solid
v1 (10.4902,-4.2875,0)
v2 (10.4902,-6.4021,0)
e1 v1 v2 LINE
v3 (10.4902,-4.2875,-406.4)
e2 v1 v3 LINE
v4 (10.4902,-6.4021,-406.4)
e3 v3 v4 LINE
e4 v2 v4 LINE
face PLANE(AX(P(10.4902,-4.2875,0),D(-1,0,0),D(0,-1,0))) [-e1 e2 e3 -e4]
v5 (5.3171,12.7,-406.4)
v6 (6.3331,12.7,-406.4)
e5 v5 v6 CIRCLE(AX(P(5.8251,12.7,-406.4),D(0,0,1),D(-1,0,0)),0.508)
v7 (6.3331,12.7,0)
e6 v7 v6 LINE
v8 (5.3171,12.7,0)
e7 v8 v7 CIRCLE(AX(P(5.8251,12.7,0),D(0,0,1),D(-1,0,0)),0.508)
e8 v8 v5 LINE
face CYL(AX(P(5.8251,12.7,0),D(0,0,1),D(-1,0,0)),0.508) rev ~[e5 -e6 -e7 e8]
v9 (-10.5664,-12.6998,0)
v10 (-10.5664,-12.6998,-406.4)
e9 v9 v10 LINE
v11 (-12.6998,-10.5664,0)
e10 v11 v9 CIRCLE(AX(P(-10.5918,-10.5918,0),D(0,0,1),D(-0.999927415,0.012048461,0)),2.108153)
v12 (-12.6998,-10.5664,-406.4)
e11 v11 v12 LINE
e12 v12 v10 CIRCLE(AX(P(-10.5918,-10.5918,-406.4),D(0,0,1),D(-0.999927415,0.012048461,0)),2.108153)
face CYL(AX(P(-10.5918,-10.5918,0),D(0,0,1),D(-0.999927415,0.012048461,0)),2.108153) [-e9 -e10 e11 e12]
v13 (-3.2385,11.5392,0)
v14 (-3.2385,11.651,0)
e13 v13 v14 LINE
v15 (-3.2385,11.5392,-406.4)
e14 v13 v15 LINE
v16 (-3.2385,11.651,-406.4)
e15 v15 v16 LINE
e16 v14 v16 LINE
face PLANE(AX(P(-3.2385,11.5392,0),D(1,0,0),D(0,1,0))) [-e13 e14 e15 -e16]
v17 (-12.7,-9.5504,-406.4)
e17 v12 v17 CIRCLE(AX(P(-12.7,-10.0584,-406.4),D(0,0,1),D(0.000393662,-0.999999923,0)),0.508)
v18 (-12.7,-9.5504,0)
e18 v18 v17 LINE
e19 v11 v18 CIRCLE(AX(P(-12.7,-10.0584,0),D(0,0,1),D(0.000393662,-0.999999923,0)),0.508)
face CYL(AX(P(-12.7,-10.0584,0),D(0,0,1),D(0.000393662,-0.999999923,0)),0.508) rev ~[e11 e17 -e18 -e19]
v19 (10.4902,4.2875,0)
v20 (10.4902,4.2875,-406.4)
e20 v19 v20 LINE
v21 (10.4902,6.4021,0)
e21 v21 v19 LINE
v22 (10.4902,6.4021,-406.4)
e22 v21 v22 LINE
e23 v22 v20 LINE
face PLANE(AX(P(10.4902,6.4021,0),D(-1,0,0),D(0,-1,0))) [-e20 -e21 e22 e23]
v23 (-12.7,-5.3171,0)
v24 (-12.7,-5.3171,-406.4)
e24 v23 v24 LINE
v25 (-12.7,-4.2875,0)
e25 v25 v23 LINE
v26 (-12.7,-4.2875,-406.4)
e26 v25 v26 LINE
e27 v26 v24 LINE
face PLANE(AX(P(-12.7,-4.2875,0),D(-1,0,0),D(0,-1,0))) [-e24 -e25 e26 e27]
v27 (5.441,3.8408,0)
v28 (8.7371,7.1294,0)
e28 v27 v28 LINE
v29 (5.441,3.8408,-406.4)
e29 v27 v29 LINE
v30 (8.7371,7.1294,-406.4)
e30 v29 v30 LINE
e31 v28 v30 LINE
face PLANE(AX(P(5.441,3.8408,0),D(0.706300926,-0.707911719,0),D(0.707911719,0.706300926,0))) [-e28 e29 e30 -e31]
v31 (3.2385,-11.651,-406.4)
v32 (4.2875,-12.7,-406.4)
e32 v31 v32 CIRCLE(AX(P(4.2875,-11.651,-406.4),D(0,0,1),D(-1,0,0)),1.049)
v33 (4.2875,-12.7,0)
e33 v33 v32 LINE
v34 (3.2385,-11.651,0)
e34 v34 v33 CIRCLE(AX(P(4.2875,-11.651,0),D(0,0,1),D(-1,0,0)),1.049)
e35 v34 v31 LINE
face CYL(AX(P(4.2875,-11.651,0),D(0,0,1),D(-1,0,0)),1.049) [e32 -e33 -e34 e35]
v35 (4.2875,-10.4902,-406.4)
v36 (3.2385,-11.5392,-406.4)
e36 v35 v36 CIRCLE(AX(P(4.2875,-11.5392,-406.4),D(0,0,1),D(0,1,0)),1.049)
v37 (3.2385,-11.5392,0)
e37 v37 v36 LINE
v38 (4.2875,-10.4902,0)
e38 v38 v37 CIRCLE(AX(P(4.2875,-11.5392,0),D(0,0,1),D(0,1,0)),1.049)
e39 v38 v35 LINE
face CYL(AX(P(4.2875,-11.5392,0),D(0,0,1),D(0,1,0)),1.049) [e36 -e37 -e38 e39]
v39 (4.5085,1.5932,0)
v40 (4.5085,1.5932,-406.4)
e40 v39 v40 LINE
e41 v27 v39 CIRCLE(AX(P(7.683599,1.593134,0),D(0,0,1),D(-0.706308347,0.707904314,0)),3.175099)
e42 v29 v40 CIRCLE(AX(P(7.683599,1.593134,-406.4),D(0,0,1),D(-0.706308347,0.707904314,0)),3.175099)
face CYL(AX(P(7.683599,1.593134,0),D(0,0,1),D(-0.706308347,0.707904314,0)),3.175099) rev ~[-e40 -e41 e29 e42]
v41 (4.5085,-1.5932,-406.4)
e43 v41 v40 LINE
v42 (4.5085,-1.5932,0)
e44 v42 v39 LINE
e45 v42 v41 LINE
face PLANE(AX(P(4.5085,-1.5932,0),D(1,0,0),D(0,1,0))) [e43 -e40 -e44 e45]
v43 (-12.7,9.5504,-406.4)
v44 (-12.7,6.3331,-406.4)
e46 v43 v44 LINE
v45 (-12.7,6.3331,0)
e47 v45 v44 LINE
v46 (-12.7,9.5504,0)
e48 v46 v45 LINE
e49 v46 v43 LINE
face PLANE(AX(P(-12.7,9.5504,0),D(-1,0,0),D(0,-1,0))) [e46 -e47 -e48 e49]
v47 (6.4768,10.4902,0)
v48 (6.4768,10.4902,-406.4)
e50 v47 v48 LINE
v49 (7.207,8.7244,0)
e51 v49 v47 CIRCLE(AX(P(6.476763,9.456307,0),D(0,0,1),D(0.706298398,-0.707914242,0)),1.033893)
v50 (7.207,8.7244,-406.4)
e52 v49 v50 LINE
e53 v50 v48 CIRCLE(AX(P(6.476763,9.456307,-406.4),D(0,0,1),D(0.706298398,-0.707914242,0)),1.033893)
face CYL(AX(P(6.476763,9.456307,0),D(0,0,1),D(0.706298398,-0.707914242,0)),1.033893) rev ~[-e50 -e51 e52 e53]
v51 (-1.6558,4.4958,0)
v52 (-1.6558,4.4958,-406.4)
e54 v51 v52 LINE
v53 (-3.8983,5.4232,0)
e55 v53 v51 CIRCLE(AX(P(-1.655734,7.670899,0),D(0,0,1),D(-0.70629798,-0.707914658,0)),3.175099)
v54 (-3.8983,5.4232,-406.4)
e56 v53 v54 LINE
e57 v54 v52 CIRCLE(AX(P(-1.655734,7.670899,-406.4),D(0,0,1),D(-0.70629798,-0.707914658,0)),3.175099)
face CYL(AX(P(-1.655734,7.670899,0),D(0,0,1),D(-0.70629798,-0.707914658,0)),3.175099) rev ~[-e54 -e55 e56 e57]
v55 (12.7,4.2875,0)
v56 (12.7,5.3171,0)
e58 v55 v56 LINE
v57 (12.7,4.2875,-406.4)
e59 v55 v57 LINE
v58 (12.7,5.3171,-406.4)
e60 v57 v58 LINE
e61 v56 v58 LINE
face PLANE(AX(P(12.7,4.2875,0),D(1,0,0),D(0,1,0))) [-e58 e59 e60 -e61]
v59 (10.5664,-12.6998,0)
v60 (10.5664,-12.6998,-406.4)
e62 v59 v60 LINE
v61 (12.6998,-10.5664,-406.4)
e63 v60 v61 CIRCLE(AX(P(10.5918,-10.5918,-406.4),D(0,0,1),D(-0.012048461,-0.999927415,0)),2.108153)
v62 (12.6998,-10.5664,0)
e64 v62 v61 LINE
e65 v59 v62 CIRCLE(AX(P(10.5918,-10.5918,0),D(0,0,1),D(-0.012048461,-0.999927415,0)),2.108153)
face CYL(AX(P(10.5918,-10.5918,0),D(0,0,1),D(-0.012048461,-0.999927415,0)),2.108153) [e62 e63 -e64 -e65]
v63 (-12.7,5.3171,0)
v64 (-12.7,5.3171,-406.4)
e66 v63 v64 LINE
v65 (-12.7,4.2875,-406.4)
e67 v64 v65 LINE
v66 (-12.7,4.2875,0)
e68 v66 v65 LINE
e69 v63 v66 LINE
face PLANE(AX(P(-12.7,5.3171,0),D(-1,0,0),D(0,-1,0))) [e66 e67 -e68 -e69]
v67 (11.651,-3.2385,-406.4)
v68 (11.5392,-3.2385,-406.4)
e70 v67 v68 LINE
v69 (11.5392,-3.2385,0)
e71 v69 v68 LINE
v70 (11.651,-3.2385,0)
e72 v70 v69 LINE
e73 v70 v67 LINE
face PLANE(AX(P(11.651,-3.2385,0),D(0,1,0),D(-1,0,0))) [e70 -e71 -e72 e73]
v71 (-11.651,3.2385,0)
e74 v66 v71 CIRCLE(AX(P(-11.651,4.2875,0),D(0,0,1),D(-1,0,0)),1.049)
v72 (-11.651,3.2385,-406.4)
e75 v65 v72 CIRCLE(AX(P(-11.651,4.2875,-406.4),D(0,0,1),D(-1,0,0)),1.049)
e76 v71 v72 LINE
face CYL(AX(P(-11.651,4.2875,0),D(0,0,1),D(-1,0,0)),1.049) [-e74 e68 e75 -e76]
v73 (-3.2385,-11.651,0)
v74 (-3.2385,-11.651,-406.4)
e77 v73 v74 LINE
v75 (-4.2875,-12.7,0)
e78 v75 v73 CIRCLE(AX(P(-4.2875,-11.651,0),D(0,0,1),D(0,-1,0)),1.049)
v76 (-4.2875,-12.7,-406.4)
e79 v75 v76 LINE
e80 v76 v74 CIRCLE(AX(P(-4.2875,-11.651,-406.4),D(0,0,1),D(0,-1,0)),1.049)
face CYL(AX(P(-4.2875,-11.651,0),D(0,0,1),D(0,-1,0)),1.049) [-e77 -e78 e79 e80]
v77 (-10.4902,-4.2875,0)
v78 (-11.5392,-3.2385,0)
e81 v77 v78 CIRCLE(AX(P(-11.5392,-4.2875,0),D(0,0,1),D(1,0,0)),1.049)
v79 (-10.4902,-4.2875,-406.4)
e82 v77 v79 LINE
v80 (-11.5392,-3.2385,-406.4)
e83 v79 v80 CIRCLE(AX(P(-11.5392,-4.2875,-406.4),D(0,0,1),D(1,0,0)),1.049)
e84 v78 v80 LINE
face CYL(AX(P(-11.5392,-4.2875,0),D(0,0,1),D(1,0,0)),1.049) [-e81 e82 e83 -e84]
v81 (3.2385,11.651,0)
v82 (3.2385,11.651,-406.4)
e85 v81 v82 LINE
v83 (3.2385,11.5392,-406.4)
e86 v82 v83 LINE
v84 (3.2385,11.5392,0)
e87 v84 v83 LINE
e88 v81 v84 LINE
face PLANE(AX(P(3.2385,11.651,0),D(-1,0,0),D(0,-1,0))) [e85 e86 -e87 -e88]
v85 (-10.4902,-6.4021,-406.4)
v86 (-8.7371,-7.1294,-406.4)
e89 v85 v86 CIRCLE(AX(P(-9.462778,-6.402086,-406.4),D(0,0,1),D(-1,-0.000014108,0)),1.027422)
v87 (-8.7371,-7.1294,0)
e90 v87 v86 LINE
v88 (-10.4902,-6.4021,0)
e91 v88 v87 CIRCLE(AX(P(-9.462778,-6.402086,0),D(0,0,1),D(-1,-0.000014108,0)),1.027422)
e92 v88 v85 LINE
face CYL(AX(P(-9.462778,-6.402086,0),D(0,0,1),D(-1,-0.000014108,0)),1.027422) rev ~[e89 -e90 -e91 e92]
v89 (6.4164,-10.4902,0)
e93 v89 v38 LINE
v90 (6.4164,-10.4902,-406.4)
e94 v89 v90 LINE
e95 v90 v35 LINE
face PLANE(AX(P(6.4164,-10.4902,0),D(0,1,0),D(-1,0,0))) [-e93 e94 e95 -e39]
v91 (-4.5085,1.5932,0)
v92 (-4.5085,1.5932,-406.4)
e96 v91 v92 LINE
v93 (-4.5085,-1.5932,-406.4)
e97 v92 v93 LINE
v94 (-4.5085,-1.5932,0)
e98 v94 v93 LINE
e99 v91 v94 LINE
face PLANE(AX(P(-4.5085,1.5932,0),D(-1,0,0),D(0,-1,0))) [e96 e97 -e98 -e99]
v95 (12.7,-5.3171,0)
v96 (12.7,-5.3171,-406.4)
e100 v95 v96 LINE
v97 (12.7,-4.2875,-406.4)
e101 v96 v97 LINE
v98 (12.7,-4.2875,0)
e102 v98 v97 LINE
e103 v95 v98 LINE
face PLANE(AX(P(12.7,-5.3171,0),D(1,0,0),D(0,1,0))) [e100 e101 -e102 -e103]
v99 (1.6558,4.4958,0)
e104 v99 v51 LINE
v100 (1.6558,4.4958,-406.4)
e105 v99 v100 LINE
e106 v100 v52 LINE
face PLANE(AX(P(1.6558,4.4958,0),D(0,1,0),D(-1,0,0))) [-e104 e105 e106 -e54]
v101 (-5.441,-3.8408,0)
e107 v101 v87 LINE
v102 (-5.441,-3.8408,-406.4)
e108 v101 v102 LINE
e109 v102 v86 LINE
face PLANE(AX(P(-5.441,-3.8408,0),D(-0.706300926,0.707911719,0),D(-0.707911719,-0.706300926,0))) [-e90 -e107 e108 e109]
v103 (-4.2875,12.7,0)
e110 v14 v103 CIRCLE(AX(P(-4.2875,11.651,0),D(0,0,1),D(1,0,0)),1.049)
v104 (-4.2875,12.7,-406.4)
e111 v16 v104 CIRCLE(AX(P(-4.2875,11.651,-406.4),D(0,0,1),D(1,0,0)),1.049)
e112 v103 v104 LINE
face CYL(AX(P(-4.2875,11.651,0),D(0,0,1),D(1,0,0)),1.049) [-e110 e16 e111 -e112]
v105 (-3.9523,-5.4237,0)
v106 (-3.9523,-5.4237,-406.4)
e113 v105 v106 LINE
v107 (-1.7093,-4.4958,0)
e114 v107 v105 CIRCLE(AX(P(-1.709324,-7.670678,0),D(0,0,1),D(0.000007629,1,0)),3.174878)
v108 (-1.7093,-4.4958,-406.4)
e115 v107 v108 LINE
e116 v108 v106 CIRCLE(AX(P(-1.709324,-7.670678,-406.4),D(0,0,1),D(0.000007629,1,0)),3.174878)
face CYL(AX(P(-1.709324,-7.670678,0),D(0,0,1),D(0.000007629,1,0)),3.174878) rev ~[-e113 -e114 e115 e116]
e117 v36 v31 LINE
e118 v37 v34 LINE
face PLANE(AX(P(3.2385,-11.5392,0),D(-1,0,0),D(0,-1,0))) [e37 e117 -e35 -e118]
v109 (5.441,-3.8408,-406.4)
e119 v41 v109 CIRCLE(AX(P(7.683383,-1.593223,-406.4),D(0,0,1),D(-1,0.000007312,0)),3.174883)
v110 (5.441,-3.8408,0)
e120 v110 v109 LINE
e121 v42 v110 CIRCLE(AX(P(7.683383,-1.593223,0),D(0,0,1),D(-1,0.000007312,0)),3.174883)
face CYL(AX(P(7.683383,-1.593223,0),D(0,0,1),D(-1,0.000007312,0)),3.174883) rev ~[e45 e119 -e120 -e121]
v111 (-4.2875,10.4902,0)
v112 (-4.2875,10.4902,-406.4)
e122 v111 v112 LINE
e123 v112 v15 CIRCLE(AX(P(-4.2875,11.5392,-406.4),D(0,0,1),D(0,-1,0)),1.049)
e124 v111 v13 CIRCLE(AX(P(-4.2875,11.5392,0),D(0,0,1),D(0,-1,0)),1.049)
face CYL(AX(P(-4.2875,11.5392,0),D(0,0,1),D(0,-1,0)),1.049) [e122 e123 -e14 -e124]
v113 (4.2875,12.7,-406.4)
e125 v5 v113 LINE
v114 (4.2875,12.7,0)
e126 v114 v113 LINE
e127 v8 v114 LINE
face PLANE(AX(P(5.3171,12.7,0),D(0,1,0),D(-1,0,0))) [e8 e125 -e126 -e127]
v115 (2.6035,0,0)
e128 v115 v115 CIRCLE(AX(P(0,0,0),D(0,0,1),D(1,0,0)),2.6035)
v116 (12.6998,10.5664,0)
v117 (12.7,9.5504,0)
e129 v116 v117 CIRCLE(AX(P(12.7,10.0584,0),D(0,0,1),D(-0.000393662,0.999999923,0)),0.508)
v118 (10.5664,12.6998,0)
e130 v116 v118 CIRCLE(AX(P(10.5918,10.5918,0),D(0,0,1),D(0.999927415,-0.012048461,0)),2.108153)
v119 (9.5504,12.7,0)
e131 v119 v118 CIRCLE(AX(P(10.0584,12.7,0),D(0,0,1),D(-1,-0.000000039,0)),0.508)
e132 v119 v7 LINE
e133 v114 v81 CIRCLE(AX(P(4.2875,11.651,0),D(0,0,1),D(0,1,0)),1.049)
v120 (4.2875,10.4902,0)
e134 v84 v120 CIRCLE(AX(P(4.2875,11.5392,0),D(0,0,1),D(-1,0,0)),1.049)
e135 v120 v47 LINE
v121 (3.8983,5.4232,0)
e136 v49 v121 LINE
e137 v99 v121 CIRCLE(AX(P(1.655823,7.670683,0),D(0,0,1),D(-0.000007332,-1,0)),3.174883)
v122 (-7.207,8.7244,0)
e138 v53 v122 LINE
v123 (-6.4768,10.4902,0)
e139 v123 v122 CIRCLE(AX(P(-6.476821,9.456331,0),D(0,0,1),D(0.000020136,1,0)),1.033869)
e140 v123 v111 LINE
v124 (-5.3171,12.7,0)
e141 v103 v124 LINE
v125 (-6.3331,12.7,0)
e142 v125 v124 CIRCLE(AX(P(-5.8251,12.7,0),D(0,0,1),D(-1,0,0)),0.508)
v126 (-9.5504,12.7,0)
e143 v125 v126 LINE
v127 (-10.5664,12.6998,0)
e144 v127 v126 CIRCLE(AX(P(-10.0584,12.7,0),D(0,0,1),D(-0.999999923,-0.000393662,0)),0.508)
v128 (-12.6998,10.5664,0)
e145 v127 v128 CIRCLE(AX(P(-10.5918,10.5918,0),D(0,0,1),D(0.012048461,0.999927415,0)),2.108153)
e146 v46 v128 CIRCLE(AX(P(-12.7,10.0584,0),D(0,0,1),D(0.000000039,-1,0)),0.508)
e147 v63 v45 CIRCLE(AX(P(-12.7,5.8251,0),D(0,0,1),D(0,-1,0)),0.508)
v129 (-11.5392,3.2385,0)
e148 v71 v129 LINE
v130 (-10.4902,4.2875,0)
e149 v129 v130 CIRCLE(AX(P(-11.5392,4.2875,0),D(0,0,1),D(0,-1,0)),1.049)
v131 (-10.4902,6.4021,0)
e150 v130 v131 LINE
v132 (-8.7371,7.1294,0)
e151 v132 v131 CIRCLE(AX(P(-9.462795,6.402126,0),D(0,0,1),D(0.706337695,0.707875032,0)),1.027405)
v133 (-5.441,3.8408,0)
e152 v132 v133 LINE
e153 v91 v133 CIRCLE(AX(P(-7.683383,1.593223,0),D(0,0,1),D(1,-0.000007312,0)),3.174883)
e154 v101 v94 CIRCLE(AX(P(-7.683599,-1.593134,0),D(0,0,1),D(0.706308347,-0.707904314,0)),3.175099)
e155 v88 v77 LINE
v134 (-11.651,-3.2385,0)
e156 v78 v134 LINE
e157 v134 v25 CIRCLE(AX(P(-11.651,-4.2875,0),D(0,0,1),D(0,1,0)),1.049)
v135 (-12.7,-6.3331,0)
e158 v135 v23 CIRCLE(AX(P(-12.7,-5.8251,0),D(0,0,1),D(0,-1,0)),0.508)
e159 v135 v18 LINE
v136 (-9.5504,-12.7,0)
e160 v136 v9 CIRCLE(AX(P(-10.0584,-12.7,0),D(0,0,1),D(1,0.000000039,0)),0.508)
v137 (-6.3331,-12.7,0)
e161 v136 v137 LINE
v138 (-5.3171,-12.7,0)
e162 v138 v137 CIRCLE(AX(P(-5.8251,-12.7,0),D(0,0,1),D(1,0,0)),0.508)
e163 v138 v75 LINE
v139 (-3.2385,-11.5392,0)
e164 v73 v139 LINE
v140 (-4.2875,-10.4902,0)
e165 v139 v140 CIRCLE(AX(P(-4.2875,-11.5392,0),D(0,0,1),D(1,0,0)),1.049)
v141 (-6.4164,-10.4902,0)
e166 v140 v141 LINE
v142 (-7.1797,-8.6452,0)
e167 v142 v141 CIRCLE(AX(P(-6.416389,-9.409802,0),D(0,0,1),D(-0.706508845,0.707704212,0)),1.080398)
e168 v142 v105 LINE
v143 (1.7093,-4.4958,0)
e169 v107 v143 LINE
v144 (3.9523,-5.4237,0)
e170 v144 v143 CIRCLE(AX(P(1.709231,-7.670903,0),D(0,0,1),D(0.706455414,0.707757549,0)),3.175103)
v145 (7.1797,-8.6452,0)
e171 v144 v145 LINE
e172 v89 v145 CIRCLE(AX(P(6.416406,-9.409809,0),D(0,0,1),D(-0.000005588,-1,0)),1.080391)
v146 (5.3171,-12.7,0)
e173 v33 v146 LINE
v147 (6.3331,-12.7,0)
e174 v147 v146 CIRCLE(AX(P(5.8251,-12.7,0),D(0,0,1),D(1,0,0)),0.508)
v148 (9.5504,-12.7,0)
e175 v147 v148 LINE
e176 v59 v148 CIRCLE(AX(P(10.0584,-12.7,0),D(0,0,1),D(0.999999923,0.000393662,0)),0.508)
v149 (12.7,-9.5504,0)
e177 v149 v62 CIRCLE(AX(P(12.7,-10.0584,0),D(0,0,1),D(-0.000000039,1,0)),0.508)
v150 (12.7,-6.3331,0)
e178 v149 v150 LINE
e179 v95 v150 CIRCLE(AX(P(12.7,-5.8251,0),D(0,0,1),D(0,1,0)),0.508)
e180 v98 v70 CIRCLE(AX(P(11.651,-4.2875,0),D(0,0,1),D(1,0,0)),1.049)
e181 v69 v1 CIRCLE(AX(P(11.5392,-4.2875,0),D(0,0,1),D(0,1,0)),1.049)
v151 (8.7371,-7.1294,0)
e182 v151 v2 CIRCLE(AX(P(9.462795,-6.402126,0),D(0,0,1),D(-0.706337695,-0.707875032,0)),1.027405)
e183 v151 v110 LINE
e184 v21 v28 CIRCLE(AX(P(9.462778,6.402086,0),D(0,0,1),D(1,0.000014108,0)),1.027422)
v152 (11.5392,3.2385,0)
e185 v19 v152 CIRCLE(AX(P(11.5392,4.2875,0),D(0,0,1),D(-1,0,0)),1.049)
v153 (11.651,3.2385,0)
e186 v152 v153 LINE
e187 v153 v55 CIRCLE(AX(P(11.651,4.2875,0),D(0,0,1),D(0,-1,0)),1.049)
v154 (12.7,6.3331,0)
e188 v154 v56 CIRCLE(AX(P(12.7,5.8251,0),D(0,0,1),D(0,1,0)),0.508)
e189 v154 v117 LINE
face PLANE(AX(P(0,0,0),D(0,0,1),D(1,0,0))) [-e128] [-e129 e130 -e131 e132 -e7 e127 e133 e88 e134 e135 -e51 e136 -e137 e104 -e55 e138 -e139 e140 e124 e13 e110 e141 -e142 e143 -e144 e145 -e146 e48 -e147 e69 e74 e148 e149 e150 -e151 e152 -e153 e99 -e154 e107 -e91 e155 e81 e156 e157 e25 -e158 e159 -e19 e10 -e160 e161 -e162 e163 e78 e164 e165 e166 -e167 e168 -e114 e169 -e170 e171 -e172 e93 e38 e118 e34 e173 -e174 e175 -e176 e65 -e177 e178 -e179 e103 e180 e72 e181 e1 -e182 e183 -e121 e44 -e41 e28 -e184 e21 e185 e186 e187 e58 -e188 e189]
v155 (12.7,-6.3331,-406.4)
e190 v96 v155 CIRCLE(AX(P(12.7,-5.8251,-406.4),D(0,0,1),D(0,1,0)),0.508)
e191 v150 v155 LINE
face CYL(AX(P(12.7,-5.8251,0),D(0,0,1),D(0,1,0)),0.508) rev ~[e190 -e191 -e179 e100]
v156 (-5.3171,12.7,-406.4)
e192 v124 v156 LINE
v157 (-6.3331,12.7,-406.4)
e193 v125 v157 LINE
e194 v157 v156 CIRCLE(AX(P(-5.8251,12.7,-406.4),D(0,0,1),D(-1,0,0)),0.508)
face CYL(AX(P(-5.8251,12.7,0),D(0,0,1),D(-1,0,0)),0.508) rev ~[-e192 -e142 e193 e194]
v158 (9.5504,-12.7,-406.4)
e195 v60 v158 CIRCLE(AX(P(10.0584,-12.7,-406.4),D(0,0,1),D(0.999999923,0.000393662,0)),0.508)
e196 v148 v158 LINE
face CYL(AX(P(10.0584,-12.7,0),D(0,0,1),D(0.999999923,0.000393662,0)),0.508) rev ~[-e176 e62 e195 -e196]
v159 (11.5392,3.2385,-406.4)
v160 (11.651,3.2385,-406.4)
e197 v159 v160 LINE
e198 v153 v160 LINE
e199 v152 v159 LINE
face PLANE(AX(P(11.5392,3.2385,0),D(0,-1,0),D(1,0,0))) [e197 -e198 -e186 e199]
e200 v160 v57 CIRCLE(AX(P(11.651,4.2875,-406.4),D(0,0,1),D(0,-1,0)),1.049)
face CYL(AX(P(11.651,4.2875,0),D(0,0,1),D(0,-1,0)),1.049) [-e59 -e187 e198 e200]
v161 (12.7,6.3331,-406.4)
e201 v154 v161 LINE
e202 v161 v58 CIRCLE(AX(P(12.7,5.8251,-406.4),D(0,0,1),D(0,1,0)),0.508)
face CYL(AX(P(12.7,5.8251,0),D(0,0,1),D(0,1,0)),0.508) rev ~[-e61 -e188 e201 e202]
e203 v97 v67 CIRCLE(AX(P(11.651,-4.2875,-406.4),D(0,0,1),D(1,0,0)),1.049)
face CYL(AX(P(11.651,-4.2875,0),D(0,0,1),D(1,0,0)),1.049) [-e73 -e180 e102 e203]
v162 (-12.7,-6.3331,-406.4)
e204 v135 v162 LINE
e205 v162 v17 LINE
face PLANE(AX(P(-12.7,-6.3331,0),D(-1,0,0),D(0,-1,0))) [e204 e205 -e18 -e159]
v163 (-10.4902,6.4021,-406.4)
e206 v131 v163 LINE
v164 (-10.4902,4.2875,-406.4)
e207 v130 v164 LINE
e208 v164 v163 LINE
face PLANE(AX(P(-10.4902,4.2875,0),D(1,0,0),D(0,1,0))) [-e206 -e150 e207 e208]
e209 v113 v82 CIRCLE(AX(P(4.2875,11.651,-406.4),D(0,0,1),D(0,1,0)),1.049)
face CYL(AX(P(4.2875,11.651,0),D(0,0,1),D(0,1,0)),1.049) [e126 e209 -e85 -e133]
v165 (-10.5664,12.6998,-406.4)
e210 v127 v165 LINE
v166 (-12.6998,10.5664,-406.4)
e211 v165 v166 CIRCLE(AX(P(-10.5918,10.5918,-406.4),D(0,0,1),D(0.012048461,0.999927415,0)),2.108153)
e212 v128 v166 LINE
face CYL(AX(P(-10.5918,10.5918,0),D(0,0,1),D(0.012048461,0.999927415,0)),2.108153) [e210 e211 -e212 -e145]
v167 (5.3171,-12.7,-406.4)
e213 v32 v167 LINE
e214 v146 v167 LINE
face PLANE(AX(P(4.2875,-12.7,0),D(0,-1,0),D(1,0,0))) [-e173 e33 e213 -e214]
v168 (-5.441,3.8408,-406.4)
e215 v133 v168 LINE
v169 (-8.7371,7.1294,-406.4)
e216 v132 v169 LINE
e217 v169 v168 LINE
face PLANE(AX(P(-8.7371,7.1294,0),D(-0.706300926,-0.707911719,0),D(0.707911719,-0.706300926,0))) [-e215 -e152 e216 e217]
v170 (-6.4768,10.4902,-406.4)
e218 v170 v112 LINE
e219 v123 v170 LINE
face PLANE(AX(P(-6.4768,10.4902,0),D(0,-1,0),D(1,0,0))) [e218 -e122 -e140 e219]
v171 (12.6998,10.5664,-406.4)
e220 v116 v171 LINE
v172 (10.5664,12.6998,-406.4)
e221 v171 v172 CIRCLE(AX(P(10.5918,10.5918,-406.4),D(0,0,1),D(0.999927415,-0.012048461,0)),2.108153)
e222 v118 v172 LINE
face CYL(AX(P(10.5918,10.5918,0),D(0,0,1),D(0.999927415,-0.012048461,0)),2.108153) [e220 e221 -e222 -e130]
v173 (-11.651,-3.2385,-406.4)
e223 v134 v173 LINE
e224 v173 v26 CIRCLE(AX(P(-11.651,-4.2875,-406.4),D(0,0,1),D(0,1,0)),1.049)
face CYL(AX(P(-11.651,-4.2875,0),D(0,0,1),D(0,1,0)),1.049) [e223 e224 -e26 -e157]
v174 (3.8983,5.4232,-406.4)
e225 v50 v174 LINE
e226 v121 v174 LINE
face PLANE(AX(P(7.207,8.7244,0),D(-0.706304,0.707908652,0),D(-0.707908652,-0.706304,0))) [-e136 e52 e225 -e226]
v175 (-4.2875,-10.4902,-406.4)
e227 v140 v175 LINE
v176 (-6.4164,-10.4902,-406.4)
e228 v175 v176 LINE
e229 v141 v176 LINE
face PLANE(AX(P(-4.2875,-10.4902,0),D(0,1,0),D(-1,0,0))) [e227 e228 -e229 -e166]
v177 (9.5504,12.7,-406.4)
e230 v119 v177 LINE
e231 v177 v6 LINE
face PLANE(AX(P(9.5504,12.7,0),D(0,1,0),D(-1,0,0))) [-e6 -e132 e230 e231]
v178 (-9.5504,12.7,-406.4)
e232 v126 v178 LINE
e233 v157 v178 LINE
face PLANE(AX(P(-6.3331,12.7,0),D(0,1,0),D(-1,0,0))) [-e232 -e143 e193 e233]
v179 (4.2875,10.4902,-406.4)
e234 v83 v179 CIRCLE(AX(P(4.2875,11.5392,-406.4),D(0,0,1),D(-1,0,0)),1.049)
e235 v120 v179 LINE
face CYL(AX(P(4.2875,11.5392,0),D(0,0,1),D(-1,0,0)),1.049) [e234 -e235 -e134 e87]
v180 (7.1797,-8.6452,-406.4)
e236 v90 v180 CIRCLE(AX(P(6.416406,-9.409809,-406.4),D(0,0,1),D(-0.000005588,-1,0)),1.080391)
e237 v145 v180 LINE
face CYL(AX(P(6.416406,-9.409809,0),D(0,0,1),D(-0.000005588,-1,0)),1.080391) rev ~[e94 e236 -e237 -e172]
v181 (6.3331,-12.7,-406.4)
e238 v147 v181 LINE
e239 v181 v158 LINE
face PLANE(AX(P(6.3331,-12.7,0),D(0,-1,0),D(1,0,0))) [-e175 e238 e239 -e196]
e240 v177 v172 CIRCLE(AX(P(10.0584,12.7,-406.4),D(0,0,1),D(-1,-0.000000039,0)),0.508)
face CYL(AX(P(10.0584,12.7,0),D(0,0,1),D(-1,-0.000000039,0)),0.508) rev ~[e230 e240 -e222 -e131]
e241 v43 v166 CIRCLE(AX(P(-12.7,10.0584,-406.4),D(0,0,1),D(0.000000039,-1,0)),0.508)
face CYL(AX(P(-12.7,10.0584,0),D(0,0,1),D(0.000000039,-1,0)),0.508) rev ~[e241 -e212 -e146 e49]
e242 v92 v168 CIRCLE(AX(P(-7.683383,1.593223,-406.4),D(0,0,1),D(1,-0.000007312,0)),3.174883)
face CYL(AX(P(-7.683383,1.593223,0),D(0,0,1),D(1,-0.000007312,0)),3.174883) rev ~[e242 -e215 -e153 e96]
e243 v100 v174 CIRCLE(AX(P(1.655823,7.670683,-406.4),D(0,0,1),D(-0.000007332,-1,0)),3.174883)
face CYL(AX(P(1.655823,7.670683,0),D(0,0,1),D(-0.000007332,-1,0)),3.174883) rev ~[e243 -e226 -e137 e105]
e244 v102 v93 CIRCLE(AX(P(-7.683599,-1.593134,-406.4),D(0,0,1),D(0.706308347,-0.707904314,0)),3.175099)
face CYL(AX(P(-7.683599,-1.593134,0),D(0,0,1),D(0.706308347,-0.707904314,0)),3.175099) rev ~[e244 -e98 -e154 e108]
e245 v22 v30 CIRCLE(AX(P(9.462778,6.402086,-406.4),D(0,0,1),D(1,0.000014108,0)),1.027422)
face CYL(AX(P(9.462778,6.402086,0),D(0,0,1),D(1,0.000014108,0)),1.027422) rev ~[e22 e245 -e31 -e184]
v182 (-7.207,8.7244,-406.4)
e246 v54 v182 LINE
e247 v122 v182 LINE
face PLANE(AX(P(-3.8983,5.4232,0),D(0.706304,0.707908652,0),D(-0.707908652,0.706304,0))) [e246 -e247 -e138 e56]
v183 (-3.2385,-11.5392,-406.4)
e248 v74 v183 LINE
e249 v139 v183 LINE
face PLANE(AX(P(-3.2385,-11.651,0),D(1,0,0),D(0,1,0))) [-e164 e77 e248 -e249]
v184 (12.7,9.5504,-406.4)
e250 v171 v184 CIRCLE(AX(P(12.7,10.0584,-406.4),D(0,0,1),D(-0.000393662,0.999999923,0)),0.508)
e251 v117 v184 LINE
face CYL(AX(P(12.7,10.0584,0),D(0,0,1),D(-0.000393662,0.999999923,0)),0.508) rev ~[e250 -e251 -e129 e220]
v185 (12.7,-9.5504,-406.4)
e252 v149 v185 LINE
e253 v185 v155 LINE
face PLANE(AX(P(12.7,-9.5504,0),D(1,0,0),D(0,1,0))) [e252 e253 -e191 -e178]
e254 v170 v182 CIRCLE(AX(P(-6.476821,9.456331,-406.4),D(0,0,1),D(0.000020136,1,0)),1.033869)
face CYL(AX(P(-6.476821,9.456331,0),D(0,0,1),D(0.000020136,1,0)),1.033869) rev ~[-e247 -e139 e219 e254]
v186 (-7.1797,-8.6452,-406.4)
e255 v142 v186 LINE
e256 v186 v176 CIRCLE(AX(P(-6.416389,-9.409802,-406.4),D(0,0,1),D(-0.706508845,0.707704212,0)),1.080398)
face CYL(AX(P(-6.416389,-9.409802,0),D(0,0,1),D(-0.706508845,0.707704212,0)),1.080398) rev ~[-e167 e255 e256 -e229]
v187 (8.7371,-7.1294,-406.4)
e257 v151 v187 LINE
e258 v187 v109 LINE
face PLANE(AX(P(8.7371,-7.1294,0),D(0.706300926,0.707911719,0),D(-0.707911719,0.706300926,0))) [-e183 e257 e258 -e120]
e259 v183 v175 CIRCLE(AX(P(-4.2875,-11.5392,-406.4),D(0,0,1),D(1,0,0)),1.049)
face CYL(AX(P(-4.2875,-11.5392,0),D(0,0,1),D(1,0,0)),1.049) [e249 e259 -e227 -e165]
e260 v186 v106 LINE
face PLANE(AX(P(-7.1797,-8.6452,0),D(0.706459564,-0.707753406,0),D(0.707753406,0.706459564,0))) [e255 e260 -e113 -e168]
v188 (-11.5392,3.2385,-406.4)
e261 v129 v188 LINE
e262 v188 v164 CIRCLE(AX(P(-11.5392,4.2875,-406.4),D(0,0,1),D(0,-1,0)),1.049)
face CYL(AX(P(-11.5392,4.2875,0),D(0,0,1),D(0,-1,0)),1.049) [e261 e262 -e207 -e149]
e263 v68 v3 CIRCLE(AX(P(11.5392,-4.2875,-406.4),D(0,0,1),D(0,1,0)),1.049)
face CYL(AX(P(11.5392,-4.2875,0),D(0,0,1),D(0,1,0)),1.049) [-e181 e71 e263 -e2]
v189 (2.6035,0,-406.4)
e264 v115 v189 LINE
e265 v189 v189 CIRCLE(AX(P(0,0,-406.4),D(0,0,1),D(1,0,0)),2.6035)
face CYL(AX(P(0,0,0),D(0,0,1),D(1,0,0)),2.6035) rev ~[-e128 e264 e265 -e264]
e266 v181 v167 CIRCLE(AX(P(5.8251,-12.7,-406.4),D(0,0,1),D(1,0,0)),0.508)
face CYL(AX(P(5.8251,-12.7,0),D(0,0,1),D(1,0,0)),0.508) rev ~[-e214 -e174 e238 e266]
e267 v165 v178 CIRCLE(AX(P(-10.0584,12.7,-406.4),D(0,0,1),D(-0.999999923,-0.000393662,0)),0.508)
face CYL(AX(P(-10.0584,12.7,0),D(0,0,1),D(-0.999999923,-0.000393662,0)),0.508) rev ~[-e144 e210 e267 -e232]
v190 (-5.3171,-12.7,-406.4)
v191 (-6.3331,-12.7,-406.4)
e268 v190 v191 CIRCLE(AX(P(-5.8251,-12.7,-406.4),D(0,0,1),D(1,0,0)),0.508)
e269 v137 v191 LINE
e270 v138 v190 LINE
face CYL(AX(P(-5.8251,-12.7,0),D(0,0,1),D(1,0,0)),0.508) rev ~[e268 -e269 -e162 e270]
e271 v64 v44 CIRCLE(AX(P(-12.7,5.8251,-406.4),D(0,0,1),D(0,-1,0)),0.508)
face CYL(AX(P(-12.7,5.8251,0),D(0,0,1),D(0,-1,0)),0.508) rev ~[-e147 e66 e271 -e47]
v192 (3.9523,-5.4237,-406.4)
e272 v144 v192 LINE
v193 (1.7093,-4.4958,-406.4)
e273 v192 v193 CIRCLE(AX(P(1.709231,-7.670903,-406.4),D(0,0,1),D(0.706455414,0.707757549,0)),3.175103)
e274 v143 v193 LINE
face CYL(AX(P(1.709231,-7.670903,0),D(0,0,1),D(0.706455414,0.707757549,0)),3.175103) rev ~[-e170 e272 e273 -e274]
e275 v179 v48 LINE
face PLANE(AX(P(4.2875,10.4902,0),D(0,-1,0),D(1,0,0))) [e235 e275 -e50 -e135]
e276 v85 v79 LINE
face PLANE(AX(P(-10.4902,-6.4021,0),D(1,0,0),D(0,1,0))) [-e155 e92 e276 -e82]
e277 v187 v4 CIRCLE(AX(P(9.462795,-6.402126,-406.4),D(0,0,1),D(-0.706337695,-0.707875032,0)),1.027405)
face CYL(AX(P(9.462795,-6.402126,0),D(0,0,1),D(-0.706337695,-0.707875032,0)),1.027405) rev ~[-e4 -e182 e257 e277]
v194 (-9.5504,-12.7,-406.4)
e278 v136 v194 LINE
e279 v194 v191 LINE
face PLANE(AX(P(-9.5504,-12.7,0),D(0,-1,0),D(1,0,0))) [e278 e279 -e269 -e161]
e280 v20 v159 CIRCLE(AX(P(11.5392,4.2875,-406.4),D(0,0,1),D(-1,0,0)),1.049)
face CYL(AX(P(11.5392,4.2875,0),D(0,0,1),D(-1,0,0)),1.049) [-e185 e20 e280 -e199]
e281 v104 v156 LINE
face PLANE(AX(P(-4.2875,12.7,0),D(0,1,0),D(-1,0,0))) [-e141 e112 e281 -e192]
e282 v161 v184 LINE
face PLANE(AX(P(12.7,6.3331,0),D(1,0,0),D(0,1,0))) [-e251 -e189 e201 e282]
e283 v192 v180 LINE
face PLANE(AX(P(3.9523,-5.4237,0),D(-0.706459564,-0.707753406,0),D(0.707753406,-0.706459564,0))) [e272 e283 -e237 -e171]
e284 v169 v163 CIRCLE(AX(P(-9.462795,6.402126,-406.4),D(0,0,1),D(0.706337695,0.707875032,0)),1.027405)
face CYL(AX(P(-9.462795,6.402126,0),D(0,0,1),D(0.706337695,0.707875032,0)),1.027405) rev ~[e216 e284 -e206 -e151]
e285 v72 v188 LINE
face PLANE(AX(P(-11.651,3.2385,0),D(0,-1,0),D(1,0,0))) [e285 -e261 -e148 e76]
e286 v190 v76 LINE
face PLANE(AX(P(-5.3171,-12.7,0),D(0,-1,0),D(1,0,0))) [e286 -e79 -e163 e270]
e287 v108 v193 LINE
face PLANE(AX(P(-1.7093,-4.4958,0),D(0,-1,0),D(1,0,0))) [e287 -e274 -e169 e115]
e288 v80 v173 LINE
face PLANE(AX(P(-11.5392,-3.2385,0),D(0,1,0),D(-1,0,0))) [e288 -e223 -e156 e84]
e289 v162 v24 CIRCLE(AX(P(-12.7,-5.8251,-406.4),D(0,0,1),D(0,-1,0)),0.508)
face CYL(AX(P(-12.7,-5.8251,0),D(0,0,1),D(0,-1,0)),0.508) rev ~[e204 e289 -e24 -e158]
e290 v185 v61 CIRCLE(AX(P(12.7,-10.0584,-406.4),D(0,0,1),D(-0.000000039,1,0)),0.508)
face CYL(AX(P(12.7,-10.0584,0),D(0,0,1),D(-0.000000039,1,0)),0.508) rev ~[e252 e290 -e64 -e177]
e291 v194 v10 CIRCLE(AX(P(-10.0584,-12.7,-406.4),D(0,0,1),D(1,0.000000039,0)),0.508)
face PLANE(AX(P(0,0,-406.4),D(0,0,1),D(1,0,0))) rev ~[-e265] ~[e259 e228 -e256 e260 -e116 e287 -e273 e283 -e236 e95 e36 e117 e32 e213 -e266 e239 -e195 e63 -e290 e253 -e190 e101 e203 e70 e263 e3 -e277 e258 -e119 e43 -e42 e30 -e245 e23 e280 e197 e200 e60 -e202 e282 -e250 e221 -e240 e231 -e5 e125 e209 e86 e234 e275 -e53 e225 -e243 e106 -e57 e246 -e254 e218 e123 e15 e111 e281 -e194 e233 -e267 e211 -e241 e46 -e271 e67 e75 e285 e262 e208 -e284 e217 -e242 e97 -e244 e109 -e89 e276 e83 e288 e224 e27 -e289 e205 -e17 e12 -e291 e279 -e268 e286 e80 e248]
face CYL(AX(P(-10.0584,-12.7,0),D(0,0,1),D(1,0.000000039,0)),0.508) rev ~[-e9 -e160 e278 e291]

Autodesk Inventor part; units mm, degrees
ref_plane "YZ Plane" through (0, 0, 0) normal (1, 0, 0) x (0, 1, 0)
ref_plane "XZ Plane" through (0, 0, 0) normal (0, 1, 0) x (-1, 0, 0)
ref_plane "XY Plane" through (0, 0, 0) normal (0, 0, 1) x (1, 0, 0)
sketch "Sketch1" plane through (0, 0, 0) normal (0, 0, 1) x (1, 0, 0)
  circle A0 centre (0, 0) radius 2.6035
  arc A1 (-1.7093, -4.4958) -> (-3.9523, -5.4237) centre (-1.7093, -7.6708) ccw
  line L0 (-1.7093, -4.4958) -> (1.7093, -4.4958)
  arc A2 (3.9523, -5.4237) -> (1.7093, -4.4958) centre (1.7093, -7.6708) ccw
  line L1 (3.9523, -5.4237) -> (7.1797, -8.6452)
  arc A3 (6.4164, -10.4902) -> (7.1797, -8.6452) centre (6.4164, -9.4098) ccw
  line L2 (6.4164, -10.4902) -> (4.2875, -10.4902)
  arc A4 (4.2875, -10.4902) -> (3.2385, -11.5392) centre (4.2875, -11.5392) ccw
  line L3 (3.2385, -11.5392) -> (3.2385, -11.651)
  arc A5 (3.2385, -11.651) -> (4.2875, -12.7) centre (4.2875, -11.651) ccw
  line L4 (4.2875, -12.7) -> (5.3171, -12.7)
  arc A6 (6.3331, -12.7) -> (5.3171, -12.7) centre (5.8251, -12.7) ccw
  line L5 (6.3331, -12.7) -> (9.5504, -12.7)
  arc A7 (10.5664, -12.6998) -> (9.5504, -12.7) centre (10.0584, -12.7) ccw
  arc A8 (10.5664, -12.6998) -> (12.6998, -10.5664) centre (10.5918, -10.5918) ccw
  arc A9 (12.7, -9.5504) -> (12.6998, -10.5664) centre (12.7, -10.0584) ccw
  line L6 (12.7, -9.5504) -> (12.7, -6.3331)
  arc A10 (12.7, -5.3171) -> (12.7, -6.3331) centre (12.7, -5.8251) ccw
  line L7 (12.7, -5.3171) -> (12.7, -4.2875)
  arc A11 (12.7, -4.2875) -> (11.651, -3.2385) centre (11.651, -4.2875) ccw
  line L8 (11.651, -3.2385) -> (11.5392, -3.2385)
  arc A12 (11.5392, -3.2385) -> (10.4902, -4.2875) centre (11.5392, -4.2875) ccw
  line L9 (10.4902, -4.2875) -> (10.4902, -6.4021)
  arc A13 (8.7371, -7.1294) -> (10.4902, -6.4021) centre (9.4628, -6.4021) ccw
  line L10 (8.7371, -7.1294) -> (5.441, -3.8408)
  arc A14 (4.5085, -1.5932) -> (5.441, -3.8408) centre (7.6835, -1.5932) ccw
  line L11 (4.5085, -1.5932) -> (4.5085, 1.5932)
  arc A15 (5.441, 3.8408) -> (4.5085, 1.5932) centre (7.6835, 1.5932) ccw
  line L12 (5.441, 3.8408) -> (8.7371, 7.1294)
  arc A16 (10.4902, 6.4021) -> (8.7371, 7.1294) centre (9.4628, 6.4021) ccw
  line L13 (10.4902, 6.4021) -> (10.4902, 4.2875)
  arc A17 (10.4902, 4.2875) -> (11.5392, 3.2385) centre (11.5392, 4.2875) ccw
  line L14 (11.5392, 3.2385) -> (11.651, 3.2385)
  arc A18 (11.651, 3.2385) -> (12.7, 4.2875) centre (11.651, 4.2875) ccw
  line L15 (12.7, 4.2875) -> (12.7, 5.3171)
  arc A19 (12.7, 6.3331) -> (12.7, 5.3171) centre (12.7, 5.8251) ccw
  line L16 (12.7, 6.3331) -> (12.7, 9.5504)
  arc A20 (12.6998, 10.5664) -> (12.7, 9.5504) centre (12.7, 10.0584) ccw
  arc A21 (12.6998, 10.5664) -> (10.5664, 12.6998) centre (10.5918, 10.5918) ccw
  arc A22 (9.5504, 12.7) -> (10.5664, 12.6998) centre (10.0584, 12.7) ccw
  line L17 (9.5504, 12.7) -> (6.3331, 12.7)
  arc A23 (5.3171, 12.7) -> (6.3331, 12.7) centre (5.8251, 12.7) ccw
  line L18 (5.3171, 12.7) -> (4.2875, 12.7)
  arc A24 (4.2875, 12.7) -> (3.2385, 11.651) centre (4.2875, 11.651) ccw
  line L19 (3.2385, 11.651) -> (3.2385, 11.5392)
  arc A25 (3.2385, 11.5392) -> (4.2875, 10.4902) centre (4.2875, 11.5392) ccw
  line L20 (4.2875, 10.4902) -> (6.4768, 10.4902)
  arc A26 (7.207, 8.7244) -> (6.4768, 10.4902) centre (6.4768, 9.4563) ccw
  line L21 (7.207, 8.7244) -> (3.8983, 5.4232)
  arc A27 (1.6558, 4.4958) -> (3.8983, 5.4232) centre (1.6558, 7.6708) ccw
  line L22 (1.6558, 4.4958) -> (-1.6558, 4.4958)
  arc A28 (-3.8983, 5.4232) -> (-1.6558, 4.4958) centre (-1.6558, 7.6708) ccw
  line L23 (-3.8983, 5.4232) -> (-7.207, 8.7244)
  arc A29 (-6.4768, 10.4902) -> (-7.207, 8.7244) centre (-6.4768, 9.4563) ccw
  line L24 (-6.4768, 10.4902) -> (-4.2875, 10.4902)
  arc A30 (-4.2875, 10.4902) -> (-3.2385, 11.5392) centre (-4.2875, 11.5392) ccw
  line L25 (-3.2385, 11.5392) -> (-3.2385, 11.651)
  arc A31 (-3.2385, 11.651) -> (-4.2875, 12.7) centre (-4.2875, 11.651) ccw
  line L26 (-4.2875, 12.7) -> (-5.3171, 12.7)
  arc A32 (-6.3331, 12.7) -> (-5.3171, 12.7) centre (-5.8251, 12.7) ccw
  line L27 (-6.3331, 12.7) -> (-9.5504, 12.7)
  arc A33 (-10.5664, 12.6998) -> (-9.5504, 12.7) centre (-10.0584, 12.7) ccw
  arc A34 (-10.5664, 12.6998) -> (-12.6998, 10.5664) centre (-10.5918, 10.5918) ccw
  arc A35 (-12.7, 9.5504) -> (-12.6998, 10.5664) centre (-12.7, 10.0584) ccw
  line L28 (-12.7, 9.5504) -> (-12.7, 6.3331)
  arc A36 (-12.7, 5.3171) -> (-12.7, 6.3331) centre (-12.7, 5.8251) ccw
  line L29 (-12.7, 5.3171) -> (-12.7, 4.2875)
  arc A37 (-12.7, 4.2875) -> (-11.651, 3.2385) centre (-11.651, 4.2875) ccw
  line L30 (-11.651, 3.2385) -> (-11.5392, 3.2385)
  arc A38 (-11.5392, 3.2385) -> (-10.4902, 4.2875) centre (-11.5392, 4.2875) ccw
  line L31 (-10.4902, 4.2875) -> (-10.4902, 6.4021)
  arc A39 (-8.7371, 7.1294) -> (-10.4902, 6.4021) centre (-9.4628, 6.4021) ccw
  line L32 (-8.7371, 7.1294) -> (-5.441, 3.8408)
  arc A40 (-4.5085, 1.5932) -> (-5.441, 3.8408) centre (-7.6835, 1.5932) ccw
  line L33 (-4.5085, 1.5932) -> (-4.5085, -1.5932)
  arc A41 (-5.441, -3.8408) -> (-4.5085, -1.5932) centre (-7.6835, -1.5932) ccw
  line L34 (-5.441, -3.8408) -> (-8.7371, -7.1294)
  arc A42 (-10.4902, -6.4021) -> (-8.7371, -7.1294) centre (-9.4628, -6.4021) ccw
  line L35 (-10.4902, -6.4021) -> (-10.4902, -4.2875)
  arc A43 (-10.4902, -4.2875) -> (-11.5392, -3.2385) centre (-11.5392, -4.2875) ccw
  line L36 (-11.5392, -3.2385) -> (-11.651, -3.2385)
  arc A44 (-11.651, -3.2385) -> (-12.7, -4.2875) centre (-11.651, -4.2875) ccw
  line L37 (-12.7, -4.2875) -> (-12.7, -5.3171)
  arc A45 (-12.7, -6.3331) -> (-12.7, -5.3171) centre (-12.7, -5.8251) ccw
  line L38 (-12.7, -6.3331) -> (-12.7, -9.5504)
  arc A46 (-12.6998, -10.5664) -> (-12.7, -9.5504) centre (-12.7, -10.0584) ccw
  arc A47 (-12.6998, -10.5664) -> (-10.5664, -12.6998) centre (-10.5918, -10.5918) ccw
  arc A48 (-9.5504, -12.7) -> (-10.5664, -12.6998) centre (-10.0584, -12.7) ccw
  line L39 (-9.5504, -12.7) -> (-6.3331, -12.7)
  arc A49 (-5.3171, -12.7) -> (-6.3331, -12.7) centre (-5.8251, -12.7) ccw
  line L40 (-5.3171, -12.7) -> (-4.2875, -12.7)
  arc A50 (-4.2875, -12.7) -> (-3.2385, -11.651) centre (-4.2875, -11.651) ccw
  line L41 (-3.2385, -11.651) -> (-3.2385, -11.5392)
  arc A51 (-3.2385, -11.5392) -> (-4.2875, -10.4902) centre (-4.2875, -11.5392) ccw
  line L42 (-4.2875, -10.4902) -> (-6.4164, -10.4902)
  arc A52 (-7.1797, -8.6452) -> (-6.4164, -10.4902) centre (-6.4164, -9.4098) ccw
  line L43 (-7.1797, -8.6452) -> (-3.9523, -5.4237)
extrude "Extrusion1" add sketch "Sketch1" against normal blind 406.4
properties part number "1010 16in"
